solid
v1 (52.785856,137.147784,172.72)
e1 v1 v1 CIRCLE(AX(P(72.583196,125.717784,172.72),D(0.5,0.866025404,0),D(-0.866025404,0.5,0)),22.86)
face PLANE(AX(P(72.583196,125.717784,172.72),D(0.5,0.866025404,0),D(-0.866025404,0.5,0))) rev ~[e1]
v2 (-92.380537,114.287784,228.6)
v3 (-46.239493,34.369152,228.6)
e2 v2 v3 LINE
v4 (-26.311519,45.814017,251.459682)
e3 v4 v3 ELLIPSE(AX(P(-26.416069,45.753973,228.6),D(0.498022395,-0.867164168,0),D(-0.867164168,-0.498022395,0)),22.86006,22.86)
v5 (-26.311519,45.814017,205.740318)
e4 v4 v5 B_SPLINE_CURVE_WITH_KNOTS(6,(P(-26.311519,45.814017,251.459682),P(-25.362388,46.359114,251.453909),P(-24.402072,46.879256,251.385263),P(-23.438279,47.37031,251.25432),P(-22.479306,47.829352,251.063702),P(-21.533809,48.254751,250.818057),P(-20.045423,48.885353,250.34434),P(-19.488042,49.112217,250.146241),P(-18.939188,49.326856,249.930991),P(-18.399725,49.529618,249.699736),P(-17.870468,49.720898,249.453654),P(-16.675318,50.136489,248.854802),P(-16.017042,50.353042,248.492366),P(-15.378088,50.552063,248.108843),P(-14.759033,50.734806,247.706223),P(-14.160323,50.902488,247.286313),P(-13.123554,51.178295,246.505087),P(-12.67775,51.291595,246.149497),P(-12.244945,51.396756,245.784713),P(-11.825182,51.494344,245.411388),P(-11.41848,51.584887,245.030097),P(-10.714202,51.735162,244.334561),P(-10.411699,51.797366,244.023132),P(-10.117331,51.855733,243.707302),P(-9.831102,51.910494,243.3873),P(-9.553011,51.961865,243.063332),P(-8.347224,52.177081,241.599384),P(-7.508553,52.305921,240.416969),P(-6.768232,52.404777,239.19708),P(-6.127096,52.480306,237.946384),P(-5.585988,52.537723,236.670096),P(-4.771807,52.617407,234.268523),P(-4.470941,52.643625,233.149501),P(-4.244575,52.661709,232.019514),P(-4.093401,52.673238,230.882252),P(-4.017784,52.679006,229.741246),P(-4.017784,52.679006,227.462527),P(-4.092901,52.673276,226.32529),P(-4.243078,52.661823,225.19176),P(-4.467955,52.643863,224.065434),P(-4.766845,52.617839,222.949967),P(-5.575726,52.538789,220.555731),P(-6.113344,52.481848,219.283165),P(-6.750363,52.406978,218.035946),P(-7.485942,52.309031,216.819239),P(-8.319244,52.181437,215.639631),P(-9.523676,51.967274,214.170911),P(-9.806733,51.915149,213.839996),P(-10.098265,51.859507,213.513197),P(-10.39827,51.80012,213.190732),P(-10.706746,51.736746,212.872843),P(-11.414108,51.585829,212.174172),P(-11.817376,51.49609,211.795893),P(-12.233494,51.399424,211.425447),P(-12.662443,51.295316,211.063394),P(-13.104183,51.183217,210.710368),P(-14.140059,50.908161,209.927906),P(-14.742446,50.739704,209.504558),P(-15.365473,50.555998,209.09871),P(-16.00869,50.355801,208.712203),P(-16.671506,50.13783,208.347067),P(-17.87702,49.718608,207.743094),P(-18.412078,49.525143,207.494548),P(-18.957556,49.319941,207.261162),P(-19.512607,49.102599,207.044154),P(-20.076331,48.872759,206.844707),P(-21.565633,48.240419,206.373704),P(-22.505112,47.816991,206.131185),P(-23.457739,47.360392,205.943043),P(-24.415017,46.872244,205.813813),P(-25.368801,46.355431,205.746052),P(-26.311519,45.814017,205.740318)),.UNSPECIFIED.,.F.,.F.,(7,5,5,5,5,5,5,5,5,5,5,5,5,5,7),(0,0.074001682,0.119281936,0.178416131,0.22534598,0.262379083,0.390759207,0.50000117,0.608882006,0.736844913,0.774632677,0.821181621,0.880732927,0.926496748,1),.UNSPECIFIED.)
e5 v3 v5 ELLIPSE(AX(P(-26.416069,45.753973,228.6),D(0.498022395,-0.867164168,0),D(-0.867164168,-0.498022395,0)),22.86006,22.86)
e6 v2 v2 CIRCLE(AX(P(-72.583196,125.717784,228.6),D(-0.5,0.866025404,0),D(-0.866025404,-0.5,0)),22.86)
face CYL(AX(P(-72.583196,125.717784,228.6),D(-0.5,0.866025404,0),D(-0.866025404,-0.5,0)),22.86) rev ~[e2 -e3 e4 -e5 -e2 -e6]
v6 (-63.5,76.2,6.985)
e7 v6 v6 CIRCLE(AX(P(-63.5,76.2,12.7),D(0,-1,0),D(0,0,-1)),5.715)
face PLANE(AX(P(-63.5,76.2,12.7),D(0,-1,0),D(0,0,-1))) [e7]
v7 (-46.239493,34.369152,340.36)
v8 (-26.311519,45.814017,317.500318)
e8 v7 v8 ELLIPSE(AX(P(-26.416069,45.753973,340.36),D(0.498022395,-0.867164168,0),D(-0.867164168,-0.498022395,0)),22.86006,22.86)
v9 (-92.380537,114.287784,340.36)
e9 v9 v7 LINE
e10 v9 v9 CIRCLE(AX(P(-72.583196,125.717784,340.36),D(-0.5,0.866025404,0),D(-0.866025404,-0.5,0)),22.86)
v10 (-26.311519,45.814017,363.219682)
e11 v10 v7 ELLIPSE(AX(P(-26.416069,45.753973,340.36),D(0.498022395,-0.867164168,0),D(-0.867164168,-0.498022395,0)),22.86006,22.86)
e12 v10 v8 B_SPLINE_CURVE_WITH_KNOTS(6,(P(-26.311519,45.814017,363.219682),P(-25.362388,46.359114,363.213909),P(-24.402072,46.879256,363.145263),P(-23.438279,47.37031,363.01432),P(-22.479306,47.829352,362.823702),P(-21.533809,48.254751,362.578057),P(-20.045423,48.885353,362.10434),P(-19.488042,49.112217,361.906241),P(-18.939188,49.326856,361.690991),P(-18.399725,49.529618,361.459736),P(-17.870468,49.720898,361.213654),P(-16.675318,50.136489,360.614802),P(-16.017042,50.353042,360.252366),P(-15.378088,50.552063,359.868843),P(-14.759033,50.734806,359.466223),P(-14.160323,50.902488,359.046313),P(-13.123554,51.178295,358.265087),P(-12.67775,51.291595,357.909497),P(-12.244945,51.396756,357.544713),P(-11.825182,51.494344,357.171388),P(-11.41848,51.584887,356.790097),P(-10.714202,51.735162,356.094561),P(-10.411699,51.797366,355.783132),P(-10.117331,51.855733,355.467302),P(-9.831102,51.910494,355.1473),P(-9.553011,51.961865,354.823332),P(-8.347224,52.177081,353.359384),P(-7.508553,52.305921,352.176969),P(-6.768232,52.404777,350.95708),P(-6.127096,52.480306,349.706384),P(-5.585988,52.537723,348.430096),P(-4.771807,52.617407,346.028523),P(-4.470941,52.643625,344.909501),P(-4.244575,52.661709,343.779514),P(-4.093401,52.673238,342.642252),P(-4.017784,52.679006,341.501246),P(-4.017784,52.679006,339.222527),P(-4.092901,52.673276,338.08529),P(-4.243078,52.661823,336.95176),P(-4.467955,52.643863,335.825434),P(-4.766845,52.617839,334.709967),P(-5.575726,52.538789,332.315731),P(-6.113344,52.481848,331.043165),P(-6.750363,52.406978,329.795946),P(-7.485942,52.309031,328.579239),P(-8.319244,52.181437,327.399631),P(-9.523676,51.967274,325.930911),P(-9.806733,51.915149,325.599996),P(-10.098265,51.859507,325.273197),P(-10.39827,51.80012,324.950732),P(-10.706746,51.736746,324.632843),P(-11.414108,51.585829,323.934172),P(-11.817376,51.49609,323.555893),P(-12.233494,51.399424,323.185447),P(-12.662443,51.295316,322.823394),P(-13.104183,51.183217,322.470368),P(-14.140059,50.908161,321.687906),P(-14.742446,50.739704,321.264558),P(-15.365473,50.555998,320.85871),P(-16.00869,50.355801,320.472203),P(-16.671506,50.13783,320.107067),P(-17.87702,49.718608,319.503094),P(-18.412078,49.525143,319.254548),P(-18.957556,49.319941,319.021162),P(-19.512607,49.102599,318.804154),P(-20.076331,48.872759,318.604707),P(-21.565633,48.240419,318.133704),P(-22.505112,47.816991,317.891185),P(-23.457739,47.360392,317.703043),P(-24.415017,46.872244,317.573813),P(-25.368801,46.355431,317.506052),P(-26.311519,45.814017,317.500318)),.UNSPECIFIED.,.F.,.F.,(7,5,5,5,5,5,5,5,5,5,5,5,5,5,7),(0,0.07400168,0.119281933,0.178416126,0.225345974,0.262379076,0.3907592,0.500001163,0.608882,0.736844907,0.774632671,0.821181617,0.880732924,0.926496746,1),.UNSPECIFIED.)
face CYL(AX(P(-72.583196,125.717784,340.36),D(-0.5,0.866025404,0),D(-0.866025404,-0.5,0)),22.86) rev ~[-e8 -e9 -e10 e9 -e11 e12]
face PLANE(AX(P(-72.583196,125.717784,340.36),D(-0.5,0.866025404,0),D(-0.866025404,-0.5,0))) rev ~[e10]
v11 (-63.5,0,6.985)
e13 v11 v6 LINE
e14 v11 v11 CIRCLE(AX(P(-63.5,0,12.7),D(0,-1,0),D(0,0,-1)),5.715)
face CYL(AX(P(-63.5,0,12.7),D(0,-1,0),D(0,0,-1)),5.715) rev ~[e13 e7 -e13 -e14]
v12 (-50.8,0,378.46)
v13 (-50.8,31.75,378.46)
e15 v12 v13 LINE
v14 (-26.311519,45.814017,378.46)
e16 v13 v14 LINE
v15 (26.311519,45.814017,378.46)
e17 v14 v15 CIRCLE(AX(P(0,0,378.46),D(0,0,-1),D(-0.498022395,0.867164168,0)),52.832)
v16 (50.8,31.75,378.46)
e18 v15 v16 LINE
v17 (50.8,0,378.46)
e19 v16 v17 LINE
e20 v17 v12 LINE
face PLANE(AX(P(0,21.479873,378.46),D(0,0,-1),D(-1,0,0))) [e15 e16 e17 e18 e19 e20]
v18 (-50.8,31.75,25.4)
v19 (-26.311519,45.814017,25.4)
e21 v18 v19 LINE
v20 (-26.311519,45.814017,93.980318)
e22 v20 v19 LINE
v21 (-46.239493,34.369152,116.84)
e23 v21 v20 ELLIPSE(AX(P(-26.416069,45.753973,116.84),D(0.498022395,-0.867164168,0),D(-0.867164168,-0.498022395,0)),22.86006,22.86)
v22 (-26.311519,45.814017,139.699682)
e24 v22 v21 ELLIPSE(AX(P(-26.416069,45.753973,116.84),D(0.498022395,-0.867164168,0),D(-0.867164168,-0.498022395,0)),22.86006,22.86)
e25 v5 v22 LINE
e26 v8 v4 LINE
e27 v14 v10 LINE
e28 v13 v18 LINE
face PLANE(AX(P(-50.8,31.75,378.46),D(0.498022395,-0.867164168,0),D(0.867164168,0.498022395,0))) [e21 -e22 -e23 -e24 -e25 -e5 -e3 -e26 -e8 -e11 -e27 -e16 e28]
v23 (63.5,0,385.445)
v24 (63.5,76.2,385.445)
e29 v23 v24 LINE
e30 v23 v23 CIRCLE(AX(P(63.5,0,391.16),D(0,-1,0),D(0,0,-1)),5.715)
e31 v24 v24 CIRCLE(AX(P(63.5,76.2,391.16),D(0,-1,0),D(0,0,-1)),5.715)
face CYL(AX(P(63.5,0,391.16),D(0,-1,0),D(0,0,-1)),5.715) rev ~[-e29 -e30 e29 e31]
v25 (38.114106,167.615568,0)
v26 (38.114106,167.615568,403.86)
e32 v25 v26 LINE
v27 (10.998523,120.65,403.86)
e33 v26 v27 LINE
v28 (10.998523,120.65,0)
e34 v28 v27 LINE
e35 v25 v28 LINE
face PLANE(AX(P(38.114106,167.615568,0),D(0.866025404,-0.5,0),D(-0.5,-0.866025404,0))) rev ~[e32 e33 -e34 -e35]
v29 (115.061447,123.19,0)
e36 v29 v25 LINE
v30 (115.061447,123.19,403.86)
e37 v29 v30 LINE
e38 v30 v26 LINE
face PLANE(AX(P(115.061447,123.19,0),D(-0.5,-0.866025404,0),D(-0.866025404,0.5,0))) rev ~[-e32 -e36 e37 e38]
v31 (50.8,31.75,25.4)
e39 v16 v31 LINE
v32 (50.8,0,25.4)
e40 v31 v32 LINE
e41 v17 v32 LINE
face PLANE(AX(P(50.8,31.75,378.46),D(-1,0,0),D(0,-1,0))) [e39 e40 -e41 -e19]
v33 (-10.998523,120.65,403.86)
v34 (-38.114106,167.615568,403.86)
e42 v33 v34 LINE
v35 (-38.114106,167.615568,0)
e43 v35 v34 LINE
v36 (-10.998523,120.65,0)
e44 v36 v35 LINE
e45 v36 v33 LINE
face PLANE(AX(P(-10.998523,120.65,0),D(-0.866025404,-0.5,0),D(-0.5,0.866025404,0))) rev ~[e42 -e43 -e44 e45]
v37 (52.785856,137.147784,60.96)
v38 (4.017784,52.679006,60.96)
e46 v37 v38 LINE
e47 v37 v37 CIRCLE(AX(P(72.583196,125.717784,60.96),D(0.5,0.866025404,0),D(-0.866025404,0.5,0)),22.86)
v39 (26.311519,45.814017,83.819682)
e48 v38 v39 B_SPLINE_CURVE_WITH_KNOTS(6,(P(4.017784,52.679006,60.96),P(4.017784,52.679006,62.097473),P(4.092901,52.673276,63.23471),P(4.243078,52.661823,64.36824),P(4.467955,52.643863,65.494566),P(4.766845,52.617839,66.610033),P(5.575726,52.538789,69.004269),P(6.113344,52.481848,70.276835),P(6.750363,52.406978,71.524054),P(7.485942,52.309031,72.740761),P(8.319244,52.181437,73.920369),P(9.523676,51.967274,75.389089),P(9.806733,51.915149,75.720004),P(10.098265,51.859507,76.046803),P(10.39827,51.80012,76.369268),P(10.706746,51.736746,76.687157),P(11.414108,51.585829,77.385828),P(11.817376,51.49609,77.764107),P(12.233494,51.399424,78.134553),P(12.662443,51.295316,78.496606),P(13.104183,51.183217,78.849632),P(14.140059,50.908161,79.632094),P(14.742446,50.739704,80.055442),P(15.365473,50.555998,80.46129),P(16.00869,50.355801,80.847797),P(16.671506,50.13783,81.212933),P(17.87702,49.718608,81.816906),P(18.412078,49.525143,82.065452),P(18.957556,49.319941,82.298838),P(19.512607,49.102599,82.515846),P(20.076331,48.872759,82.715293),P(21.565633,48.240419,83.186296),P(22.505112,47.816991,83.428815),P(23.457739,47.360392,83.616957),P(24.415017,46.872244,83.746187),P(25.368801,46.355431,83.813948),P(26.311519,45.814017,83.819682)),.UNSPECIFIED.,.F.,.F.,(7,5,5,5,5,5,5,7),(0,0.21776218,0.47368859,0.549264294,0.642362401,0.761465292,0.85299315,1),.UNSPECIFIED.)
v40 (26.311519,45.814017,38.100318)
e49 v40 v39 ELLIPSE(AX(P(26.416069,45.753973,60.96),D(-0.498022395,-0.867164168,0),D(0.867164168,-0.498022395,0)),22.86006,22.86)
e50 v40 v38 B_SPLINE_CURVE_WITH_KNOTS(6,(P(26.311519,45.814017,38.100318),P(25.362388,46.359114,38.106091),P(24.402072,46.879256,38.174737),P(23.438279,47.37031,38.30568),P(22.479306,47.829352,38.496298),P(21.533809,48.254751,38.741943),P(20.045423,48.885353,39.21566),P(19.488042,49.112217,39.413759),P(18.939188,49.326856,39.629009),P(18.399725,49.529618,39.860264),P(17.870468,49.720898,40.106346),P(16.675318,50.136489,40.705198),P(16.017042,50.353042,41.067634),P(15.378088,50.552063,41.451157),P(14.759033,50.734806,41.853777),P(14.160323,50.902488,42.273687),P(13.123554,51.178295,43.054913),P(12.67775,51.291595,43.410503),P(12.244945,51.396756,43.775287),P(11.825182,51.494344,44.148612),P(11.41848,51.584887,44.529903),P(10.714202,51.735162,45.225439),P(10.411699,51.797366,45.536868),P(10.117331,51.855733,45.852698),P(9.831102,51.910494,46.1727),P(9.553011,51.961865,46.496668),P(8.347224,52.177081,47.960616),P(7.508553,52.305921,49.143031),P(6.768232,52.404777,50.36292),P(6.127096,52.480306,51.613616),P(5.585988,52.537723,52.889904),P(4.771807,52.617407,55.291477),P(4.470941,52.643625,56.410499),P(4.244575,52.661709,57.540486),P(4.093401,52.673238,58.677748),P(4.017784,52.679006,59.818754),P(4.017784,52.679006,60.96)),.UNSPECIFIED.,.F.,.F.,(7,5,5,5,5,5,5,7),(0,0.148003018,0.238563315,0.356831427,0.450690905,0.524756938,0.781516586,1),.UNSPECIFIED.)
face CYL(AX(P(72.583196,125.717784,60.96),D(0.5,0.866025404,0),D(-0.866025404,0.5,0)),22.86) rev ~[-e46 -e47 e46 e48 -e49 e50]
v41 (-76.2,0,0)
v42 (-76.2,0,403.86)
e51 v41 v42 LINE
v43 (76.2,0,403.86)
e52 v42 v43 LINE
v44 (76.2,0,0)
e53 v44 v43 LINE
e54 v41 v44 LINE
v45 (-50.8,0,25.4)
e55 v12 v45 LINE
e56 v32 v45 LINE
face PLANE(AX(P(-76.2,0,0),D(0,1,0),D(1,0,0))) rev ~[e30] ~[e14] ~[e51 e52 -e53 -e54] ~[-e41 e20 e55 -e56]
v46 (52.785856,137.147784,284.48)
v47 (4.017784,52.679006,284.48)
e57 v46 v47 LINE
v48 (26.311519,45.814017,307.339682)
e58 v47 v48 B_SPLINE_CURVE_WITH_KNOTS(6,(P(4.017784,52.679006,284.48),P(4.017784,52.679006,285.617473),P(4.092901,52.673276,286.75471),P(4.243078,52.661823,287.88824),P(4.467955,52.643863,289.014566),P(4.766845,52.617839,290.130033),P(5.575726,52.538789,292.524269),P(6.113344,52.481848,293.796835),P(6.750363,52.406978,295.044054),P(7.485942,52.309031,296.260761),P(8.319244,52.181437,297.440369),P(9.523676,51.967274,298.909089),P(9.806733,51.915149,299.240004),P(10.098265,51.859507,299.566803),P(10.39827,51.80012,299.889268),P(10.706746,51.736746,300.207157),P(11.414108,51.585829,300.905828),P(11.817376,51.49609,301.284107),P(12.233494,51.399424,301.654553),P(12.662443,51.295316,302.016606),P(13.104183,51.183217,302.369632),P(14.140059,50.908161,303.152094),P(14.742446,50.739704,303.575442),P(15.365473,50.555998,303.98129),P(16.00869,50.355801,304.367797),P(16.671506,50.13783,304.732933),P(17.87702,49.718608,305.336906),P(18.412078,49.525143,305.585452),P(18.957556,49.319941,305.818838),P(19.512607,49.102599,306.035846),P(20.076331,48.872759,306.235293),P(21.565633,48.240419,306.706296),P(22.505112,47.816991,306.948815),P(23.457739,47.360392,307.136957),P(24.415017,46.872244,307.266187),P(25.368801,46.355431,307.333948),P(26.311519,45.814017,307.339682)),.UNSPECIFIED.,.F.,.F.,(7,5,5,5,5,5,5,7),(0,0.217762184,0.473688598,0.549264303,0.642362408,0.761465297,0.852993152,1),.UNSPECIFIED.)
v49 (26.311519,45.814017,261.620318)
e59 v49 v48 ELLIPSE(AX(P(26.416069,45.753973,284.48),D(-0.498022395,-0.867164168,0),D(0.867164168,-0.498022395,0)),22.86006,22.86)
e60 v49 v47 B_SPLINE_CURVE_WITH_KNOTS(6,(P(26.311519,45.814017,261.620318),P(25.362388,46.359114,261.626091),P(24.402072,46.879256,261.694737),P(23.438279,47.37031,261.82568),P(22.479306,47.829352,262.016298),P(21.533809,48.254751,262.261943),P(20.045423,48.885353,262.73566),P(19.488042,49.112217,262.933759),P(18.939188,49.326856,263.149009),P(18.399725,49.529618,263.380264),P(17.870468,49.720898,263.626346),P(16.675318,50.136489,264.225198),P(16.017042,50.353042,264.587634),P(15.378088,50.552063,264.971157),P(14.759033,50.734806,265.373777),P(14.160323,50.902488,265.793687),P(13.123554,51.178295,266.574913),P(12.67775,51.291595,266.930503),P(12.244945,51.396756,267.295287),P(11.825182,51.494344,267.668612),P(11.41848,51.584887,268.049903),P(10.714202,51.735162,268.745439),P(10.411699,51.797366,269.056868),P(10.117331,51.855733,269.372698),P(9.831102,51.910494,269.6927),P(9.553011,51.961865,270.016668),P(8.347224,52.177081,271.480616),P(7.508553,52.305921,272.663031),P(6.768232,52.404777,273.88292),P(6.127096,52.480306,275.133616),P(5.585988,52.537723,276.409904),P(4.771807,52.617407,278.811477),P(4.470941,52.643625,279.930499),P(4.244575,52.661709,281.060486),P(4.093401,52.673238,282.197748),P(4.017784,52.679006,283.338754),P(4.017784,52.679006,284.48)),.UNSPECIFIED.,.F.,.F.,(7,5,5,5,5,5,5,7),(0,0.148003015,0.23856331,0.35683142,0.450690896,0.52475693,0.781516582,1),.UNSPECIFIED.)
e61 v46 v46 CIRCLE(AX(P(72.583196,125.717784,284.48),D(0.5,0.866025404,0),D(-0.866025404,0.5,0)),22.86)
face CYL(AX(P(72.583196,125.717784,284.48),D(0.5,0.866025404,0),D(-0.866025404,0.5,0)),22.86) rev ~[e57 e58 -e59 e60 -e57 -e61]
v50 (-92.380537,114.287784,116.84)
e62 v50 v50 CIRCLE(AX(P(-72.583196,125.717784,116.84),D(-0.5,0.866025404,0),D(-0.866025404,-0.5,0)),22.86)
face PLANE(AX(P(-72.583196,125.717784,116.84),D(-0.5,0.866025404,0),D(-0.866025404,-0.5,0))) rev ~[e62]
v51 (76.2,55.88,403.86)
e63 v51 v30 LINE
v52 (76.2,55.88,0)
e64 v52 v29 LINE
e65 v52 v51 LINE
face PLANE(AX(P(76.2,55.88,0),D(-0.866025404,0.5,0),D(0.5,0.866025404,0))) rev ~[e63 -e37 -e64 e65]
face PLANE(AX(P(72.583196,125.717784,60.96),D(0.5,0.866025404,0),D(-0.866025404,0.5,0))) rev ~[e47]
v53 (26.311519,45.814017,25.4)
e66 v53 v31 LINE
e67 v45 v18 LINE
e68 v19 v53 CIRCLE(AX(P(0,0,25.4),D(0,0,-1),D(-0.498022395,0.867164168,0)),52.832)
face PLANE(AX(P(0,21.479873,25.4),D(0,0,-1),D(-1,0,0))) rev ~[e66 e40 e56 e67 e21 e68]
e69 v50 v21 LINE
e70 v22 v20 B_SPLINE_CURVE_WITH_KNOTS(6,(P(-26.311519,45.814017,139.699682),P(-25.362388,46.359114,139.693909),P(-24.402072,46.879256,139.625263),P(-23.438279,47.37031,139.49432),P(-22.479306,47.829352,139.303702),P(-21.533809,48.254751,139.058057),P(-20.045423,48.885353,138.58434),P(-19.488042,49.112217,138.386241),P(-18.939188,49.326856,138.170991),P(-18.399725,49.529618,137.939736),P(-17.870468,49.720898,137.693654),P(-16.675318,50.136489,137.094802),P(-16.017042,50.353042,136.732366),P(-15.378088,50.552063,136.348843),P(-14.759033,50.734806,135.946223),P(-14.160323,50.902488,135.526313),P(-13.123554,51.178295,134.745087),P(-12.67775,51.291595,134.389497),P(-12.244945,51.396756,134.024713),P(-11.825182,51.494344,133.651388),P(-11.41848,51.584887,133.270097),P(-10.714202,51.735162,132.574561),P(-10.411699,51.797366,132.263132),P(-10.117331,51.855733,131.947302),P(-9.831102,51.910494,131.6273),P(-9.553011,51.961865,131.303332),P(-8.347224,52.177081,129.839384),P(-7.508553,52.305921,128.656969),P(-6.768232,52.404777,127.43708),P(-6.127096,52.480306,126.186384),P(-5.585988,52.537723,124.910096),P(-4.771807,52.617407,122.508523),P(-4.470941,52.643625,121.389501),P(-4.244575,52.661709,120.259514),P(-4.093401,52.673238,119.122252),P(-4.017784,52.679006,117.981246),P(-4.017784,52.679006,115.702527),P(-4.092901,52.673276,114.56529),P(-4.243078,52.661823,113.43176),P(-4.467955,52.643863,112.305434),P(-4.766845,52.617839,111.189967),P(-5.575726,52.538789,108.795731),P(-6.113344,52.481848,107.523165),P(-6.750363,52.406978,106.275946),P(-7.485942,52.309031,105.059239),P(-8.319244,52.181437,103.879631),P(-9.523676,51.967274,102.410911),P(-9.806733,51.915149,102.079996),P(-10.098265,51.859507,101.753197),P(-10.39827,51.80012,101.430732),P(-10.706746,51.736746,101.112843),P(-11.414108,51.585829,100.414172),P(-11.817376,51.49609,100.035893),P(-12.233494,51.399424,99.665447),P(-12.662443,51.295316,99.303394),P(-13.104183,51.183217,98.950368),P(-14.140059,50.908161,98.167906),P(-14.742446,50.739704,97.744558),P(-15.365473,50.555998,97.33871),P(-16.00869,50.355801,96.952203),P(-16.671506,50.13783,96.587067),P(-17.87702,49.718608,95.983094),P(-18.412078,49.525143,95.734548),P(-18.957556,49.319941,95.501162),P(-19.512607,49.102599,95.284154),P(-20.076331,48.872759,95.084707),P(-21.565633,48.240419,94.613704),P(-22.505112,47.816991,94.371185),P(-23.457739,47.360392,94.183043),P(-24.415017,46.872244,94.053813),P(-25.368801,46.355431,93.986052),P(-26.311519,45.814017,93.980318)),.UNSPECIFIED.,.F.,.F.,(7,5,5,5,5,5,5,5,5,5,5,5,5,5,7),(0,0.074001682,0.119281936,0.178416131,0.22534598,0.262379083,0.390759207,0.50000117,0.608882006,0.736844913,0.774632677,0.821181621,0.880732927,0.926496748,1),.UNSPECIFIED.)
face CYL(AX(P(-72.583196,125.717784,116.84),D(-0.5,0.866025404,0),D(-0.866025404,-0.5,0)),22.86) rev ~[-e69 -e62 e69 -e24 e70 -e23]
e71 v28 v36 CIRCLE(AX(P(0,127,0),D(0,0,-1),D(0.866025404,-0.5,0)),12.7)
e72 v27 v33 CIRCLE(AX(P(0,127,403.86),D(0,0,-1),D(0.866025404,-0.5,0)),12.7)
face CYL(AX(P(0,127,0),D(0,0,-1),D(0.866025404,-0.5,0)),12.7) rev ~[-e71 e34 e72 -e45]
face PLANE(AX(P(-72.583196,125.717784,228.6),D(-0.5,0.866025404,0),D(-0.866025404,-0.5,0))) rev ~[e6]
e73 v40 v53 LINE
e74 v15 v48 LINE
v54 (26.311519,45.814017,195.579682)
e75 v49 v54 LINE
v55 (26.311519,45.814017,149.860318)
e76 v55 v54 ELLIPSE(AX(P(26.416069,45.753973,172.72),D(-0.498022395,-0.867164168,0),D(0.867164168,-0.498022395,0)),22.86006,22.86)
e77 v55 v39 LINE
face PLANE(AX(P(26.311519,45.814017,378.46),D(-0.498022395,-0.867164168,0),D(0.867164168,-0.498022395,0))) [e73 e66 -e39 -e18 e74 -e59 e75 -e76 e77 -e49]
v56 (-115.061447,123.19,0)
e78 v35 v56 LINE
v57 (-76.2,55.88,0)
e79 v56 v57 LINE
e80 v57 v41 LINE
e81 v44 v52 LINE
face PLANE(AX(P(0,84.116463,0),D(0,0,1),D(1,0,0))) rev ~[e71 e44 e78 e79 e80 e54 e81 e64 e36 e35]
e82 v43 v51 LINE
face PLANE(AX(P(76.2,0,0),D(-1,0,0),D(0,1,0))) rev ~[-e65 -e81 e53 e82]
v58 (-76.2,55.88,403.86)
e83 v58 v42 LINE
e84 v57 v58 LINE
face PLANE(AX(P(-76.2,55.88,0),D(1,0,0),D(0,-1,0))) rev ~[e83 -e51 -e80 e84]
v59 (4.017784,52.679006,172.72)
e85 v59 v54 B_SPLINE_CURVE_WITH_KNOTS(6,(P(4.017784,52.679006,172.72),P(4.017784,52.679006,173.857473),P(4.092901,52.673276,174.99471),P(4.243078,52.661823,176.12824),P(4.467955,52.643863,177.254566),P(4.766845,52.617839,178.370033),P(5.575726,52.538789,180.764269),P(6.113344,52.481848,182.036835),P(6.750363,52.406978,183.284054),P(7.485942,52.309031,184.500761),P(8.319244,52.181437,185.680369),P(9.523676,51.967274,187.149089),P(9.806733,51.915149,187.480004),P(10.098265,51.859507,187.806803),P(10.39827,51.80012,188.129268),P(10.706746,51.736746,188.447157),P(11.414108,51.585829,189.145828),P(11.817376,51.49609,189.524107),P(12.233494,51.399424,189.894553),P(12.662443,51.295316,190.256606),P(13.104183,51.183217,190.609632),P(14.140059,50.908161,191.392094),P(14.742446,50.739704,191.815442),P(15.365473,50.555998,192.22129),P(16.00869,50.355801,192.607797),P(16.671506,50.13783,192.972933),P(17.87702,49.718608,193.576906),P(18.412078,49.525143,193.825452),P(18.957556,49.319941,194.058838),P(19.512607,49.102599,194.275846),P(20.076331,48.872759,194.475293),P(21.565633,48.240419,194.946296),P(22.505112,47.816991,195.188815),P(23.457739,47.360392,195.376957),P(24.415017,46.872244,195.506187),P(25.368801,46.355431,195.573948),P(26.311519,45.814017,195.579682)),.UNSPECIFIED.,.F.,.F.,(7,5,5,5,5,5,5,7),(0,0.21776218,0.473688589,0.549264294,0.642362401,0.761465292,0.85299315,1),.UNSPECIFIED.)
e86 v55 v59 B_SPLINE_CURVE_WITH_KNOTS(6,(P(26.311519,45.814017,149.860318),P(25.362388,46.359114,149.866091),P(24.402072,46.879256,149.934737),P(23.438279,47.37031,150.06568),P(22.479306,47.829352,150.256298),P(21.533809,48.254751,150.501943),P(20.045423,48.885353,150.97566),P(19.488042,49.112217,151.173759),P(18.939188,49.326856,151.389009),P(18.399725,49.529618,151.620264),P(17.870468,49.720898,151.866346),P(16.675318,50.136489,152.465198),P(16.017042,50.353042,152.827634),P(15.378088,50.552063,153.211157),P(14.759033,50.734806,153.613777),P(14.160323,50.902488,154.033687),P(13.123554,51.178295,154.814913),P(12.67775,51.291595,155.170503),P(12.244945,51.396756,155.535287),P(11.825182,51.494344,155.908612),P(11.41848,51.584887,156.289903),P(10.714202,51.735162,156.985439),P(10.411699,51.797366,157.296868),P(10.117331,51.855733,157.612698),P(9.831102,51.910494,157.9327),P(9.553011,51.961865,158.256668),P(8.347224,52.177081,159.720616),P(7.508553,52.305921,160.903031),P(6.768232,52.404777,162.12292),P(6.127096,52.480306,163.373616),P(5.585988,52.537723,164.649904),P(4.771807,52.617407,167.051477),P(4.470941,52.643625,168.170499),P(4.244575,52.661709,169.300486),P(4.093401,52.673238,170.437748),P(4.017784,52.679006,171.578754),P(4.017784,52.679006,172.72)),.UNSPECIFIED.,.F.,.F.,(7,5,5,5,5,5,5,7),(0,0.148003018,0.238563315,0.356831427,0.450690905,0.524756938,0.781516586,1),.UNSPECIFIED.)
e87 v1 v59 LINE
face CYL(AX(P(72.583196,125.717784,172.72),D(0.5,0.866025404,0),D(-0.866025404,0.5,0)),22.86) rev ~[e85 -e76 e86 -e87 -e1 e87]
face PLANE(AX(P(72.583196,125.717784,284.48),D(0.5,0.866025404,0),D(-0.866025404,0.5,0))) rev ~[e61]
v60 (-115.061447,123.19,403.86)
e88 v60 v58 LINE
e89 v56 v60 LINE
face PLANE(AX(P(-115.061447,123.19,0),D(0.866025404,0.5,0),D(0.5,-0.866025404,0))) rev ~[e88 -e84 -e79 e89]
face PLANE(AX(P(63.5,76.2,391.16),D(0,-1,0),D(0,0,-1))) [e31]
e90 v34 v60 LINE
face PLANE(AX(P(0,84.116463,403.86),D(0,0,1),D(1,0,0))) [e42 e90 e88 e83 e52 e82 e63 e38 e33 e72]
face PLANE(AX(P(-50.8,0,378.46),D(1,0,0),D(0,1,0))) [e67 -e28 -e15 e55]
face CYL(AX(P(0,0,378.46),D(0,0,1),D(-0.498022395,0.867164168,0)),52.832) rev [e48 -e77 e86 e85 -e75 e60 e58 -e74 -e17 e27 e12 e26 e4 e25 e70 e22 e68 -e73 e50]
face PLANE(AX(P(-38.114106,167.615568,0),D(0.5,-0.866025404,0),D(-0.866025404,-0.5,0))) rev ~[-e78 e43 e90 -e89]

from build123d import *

# Parameters (mm, degrees)
BOSS_EXTRUDE1_DEPTH = 403.86
CUT_EXTRUDE2_START  = -25.4
CUT_EXTRUDE2_DEPTH  = 353.06
CUT_EXTRUDE5_START  = -19.05
SKETCH3_R           = 22.86
CUT_EXTRUDE5_DEPTH  = 353.06
CUT_EXTRUDE6_START  = -19.05
SKETCH4_R           = 22.86
CUT_EXTRUDE6_DEPTH  = 353.06
SKETCH5_R           = 5.715
CUT_EXTRUDE7_DEPTH  = 76.2


with BuildPart() as part:
    # Sketch1 → Boss-Extrude1 (new body)
    with BuildSketch(Plane.XY):
        with BuildLine():
            Line((-10.998522628, 120.65), (-38.114105889, 167.615567884))
            Line((-38.114105889, 167.615567884), (-115.061446619, 123.19))
            Line((-115.061446619, 123.19), (-76.2, 55.88))
            Line((-76.2, 55.88), (-76.2, 0))
            Line((-76.2, 0), (76.2, 0))
            Line((76.2, 0), (76.2, 55.88))
            Line((76.2, 55.88), (115.061446619, 123.19))
            Line((115.061446619, 123.19), (38.114105889, 167.615567884))
            Line((38.114105889, 167.615567884), (10.998522628, 120.65))
            ThreePointArc((10.998522628, 120.65), (0, 114.3), (-10.998522628, 120.65))
        make_face()
    extrude(amount=BOSS_EXTRUDE1_DEPTH)

    # Sketch2 → Cut-Extrude2 (cut)
    with BuildSketch(Plane.XY.offset(403.86).offset(CUT_EXTRUDE2_START)):
        with BuildLine():
            Line((26.311519178, 45.814017315), (50.8, 31.75))
            Line((50.8, 31.75), (50.8, 0))
            Line((50.8, 0), (-50.8, 0))
            Line((-50.8, 0), (-50.8, 31.75))
            Line((-50.8, 31.75), (-26.311519178, 45.814017315))
            ThreePointArc((-26.311519178, 45.814017315), (0, 52.832), (26.311519178, 45.814017315))
        make_face()
    extrude(amount=-CUT_EXTRUDE2_DEPTH, mode=Mode.SUBTRACT)

    # Sketch3 → Cut-Extrude5 (cut)
    with BuildSketch(Plane(origin=(82.108196401, 142.215567884, 0), x_dir=(0.8660254037844397, -0.4999999999999981, 0), z_dir=(0.4999999999999982, 0.8660254037844398, 0)).offset(CUT_EXTRUDE5_START)):
        with Locations(Location((0, -60.96, 0), (0, 0, 180))):
            Circle(SKETCH3_R)
        with Locations(Location((0, -172.72, 0), (0, 0, 180))):
            Circle(SKETCH3_R)
        with Locations(Location((0, -284.48, 0), (0, 0, 180))):
            Circle(SKETCH3_R)
    extrude(amount=-CUT_EXTRUDE5_DEPTH, mode=Mode.SUBTRACT)

    # Sketch4 → Cut-Extrude6 (cut)
    with BuildSketch(Plane(origin=(-82.108196401, 142.215567884, 0), x_dir=(0.866025403784438, 0.5000000000000011, 0), z_dir=(-0.5000000000000011, 0.8660254037844382, 0)).offset(CUT_EXTRUDE6_START)):
        with Locations(Location((0, -340.36, 0), (0, 0, 180))):
            Circle(SKETCH4_R)
        with Locations(Location((0, -228.6, 0), (0, 0, 180))):
            Circle(SKETCH4_R)
        with Locations(Location((0, -116.84, 0), (0, 0, 180))):
            Circle(SKETCH4_R)
    extrude(amount=-CUT_EXTRUDE6_DEPTH, mode=Mode.SUBTRACT)

    # Sketch5 → Cut-Extrude7 (cut)
    with BuildSketch(Plane.XZ):
        with Locations(Location((-63.5, 12.7, 0), (0, 0, 270))):
            Circle(SKETCH5_R)
        with Locations(Location((63.5, 391.16, 0), (0, 0, 270))):
            Circle(SKETCH5_R)
    extrude(amount=-CUT_EXTRUDE7_DEPTH, mode=Mode.SUBTRACT)


solid = part.part
